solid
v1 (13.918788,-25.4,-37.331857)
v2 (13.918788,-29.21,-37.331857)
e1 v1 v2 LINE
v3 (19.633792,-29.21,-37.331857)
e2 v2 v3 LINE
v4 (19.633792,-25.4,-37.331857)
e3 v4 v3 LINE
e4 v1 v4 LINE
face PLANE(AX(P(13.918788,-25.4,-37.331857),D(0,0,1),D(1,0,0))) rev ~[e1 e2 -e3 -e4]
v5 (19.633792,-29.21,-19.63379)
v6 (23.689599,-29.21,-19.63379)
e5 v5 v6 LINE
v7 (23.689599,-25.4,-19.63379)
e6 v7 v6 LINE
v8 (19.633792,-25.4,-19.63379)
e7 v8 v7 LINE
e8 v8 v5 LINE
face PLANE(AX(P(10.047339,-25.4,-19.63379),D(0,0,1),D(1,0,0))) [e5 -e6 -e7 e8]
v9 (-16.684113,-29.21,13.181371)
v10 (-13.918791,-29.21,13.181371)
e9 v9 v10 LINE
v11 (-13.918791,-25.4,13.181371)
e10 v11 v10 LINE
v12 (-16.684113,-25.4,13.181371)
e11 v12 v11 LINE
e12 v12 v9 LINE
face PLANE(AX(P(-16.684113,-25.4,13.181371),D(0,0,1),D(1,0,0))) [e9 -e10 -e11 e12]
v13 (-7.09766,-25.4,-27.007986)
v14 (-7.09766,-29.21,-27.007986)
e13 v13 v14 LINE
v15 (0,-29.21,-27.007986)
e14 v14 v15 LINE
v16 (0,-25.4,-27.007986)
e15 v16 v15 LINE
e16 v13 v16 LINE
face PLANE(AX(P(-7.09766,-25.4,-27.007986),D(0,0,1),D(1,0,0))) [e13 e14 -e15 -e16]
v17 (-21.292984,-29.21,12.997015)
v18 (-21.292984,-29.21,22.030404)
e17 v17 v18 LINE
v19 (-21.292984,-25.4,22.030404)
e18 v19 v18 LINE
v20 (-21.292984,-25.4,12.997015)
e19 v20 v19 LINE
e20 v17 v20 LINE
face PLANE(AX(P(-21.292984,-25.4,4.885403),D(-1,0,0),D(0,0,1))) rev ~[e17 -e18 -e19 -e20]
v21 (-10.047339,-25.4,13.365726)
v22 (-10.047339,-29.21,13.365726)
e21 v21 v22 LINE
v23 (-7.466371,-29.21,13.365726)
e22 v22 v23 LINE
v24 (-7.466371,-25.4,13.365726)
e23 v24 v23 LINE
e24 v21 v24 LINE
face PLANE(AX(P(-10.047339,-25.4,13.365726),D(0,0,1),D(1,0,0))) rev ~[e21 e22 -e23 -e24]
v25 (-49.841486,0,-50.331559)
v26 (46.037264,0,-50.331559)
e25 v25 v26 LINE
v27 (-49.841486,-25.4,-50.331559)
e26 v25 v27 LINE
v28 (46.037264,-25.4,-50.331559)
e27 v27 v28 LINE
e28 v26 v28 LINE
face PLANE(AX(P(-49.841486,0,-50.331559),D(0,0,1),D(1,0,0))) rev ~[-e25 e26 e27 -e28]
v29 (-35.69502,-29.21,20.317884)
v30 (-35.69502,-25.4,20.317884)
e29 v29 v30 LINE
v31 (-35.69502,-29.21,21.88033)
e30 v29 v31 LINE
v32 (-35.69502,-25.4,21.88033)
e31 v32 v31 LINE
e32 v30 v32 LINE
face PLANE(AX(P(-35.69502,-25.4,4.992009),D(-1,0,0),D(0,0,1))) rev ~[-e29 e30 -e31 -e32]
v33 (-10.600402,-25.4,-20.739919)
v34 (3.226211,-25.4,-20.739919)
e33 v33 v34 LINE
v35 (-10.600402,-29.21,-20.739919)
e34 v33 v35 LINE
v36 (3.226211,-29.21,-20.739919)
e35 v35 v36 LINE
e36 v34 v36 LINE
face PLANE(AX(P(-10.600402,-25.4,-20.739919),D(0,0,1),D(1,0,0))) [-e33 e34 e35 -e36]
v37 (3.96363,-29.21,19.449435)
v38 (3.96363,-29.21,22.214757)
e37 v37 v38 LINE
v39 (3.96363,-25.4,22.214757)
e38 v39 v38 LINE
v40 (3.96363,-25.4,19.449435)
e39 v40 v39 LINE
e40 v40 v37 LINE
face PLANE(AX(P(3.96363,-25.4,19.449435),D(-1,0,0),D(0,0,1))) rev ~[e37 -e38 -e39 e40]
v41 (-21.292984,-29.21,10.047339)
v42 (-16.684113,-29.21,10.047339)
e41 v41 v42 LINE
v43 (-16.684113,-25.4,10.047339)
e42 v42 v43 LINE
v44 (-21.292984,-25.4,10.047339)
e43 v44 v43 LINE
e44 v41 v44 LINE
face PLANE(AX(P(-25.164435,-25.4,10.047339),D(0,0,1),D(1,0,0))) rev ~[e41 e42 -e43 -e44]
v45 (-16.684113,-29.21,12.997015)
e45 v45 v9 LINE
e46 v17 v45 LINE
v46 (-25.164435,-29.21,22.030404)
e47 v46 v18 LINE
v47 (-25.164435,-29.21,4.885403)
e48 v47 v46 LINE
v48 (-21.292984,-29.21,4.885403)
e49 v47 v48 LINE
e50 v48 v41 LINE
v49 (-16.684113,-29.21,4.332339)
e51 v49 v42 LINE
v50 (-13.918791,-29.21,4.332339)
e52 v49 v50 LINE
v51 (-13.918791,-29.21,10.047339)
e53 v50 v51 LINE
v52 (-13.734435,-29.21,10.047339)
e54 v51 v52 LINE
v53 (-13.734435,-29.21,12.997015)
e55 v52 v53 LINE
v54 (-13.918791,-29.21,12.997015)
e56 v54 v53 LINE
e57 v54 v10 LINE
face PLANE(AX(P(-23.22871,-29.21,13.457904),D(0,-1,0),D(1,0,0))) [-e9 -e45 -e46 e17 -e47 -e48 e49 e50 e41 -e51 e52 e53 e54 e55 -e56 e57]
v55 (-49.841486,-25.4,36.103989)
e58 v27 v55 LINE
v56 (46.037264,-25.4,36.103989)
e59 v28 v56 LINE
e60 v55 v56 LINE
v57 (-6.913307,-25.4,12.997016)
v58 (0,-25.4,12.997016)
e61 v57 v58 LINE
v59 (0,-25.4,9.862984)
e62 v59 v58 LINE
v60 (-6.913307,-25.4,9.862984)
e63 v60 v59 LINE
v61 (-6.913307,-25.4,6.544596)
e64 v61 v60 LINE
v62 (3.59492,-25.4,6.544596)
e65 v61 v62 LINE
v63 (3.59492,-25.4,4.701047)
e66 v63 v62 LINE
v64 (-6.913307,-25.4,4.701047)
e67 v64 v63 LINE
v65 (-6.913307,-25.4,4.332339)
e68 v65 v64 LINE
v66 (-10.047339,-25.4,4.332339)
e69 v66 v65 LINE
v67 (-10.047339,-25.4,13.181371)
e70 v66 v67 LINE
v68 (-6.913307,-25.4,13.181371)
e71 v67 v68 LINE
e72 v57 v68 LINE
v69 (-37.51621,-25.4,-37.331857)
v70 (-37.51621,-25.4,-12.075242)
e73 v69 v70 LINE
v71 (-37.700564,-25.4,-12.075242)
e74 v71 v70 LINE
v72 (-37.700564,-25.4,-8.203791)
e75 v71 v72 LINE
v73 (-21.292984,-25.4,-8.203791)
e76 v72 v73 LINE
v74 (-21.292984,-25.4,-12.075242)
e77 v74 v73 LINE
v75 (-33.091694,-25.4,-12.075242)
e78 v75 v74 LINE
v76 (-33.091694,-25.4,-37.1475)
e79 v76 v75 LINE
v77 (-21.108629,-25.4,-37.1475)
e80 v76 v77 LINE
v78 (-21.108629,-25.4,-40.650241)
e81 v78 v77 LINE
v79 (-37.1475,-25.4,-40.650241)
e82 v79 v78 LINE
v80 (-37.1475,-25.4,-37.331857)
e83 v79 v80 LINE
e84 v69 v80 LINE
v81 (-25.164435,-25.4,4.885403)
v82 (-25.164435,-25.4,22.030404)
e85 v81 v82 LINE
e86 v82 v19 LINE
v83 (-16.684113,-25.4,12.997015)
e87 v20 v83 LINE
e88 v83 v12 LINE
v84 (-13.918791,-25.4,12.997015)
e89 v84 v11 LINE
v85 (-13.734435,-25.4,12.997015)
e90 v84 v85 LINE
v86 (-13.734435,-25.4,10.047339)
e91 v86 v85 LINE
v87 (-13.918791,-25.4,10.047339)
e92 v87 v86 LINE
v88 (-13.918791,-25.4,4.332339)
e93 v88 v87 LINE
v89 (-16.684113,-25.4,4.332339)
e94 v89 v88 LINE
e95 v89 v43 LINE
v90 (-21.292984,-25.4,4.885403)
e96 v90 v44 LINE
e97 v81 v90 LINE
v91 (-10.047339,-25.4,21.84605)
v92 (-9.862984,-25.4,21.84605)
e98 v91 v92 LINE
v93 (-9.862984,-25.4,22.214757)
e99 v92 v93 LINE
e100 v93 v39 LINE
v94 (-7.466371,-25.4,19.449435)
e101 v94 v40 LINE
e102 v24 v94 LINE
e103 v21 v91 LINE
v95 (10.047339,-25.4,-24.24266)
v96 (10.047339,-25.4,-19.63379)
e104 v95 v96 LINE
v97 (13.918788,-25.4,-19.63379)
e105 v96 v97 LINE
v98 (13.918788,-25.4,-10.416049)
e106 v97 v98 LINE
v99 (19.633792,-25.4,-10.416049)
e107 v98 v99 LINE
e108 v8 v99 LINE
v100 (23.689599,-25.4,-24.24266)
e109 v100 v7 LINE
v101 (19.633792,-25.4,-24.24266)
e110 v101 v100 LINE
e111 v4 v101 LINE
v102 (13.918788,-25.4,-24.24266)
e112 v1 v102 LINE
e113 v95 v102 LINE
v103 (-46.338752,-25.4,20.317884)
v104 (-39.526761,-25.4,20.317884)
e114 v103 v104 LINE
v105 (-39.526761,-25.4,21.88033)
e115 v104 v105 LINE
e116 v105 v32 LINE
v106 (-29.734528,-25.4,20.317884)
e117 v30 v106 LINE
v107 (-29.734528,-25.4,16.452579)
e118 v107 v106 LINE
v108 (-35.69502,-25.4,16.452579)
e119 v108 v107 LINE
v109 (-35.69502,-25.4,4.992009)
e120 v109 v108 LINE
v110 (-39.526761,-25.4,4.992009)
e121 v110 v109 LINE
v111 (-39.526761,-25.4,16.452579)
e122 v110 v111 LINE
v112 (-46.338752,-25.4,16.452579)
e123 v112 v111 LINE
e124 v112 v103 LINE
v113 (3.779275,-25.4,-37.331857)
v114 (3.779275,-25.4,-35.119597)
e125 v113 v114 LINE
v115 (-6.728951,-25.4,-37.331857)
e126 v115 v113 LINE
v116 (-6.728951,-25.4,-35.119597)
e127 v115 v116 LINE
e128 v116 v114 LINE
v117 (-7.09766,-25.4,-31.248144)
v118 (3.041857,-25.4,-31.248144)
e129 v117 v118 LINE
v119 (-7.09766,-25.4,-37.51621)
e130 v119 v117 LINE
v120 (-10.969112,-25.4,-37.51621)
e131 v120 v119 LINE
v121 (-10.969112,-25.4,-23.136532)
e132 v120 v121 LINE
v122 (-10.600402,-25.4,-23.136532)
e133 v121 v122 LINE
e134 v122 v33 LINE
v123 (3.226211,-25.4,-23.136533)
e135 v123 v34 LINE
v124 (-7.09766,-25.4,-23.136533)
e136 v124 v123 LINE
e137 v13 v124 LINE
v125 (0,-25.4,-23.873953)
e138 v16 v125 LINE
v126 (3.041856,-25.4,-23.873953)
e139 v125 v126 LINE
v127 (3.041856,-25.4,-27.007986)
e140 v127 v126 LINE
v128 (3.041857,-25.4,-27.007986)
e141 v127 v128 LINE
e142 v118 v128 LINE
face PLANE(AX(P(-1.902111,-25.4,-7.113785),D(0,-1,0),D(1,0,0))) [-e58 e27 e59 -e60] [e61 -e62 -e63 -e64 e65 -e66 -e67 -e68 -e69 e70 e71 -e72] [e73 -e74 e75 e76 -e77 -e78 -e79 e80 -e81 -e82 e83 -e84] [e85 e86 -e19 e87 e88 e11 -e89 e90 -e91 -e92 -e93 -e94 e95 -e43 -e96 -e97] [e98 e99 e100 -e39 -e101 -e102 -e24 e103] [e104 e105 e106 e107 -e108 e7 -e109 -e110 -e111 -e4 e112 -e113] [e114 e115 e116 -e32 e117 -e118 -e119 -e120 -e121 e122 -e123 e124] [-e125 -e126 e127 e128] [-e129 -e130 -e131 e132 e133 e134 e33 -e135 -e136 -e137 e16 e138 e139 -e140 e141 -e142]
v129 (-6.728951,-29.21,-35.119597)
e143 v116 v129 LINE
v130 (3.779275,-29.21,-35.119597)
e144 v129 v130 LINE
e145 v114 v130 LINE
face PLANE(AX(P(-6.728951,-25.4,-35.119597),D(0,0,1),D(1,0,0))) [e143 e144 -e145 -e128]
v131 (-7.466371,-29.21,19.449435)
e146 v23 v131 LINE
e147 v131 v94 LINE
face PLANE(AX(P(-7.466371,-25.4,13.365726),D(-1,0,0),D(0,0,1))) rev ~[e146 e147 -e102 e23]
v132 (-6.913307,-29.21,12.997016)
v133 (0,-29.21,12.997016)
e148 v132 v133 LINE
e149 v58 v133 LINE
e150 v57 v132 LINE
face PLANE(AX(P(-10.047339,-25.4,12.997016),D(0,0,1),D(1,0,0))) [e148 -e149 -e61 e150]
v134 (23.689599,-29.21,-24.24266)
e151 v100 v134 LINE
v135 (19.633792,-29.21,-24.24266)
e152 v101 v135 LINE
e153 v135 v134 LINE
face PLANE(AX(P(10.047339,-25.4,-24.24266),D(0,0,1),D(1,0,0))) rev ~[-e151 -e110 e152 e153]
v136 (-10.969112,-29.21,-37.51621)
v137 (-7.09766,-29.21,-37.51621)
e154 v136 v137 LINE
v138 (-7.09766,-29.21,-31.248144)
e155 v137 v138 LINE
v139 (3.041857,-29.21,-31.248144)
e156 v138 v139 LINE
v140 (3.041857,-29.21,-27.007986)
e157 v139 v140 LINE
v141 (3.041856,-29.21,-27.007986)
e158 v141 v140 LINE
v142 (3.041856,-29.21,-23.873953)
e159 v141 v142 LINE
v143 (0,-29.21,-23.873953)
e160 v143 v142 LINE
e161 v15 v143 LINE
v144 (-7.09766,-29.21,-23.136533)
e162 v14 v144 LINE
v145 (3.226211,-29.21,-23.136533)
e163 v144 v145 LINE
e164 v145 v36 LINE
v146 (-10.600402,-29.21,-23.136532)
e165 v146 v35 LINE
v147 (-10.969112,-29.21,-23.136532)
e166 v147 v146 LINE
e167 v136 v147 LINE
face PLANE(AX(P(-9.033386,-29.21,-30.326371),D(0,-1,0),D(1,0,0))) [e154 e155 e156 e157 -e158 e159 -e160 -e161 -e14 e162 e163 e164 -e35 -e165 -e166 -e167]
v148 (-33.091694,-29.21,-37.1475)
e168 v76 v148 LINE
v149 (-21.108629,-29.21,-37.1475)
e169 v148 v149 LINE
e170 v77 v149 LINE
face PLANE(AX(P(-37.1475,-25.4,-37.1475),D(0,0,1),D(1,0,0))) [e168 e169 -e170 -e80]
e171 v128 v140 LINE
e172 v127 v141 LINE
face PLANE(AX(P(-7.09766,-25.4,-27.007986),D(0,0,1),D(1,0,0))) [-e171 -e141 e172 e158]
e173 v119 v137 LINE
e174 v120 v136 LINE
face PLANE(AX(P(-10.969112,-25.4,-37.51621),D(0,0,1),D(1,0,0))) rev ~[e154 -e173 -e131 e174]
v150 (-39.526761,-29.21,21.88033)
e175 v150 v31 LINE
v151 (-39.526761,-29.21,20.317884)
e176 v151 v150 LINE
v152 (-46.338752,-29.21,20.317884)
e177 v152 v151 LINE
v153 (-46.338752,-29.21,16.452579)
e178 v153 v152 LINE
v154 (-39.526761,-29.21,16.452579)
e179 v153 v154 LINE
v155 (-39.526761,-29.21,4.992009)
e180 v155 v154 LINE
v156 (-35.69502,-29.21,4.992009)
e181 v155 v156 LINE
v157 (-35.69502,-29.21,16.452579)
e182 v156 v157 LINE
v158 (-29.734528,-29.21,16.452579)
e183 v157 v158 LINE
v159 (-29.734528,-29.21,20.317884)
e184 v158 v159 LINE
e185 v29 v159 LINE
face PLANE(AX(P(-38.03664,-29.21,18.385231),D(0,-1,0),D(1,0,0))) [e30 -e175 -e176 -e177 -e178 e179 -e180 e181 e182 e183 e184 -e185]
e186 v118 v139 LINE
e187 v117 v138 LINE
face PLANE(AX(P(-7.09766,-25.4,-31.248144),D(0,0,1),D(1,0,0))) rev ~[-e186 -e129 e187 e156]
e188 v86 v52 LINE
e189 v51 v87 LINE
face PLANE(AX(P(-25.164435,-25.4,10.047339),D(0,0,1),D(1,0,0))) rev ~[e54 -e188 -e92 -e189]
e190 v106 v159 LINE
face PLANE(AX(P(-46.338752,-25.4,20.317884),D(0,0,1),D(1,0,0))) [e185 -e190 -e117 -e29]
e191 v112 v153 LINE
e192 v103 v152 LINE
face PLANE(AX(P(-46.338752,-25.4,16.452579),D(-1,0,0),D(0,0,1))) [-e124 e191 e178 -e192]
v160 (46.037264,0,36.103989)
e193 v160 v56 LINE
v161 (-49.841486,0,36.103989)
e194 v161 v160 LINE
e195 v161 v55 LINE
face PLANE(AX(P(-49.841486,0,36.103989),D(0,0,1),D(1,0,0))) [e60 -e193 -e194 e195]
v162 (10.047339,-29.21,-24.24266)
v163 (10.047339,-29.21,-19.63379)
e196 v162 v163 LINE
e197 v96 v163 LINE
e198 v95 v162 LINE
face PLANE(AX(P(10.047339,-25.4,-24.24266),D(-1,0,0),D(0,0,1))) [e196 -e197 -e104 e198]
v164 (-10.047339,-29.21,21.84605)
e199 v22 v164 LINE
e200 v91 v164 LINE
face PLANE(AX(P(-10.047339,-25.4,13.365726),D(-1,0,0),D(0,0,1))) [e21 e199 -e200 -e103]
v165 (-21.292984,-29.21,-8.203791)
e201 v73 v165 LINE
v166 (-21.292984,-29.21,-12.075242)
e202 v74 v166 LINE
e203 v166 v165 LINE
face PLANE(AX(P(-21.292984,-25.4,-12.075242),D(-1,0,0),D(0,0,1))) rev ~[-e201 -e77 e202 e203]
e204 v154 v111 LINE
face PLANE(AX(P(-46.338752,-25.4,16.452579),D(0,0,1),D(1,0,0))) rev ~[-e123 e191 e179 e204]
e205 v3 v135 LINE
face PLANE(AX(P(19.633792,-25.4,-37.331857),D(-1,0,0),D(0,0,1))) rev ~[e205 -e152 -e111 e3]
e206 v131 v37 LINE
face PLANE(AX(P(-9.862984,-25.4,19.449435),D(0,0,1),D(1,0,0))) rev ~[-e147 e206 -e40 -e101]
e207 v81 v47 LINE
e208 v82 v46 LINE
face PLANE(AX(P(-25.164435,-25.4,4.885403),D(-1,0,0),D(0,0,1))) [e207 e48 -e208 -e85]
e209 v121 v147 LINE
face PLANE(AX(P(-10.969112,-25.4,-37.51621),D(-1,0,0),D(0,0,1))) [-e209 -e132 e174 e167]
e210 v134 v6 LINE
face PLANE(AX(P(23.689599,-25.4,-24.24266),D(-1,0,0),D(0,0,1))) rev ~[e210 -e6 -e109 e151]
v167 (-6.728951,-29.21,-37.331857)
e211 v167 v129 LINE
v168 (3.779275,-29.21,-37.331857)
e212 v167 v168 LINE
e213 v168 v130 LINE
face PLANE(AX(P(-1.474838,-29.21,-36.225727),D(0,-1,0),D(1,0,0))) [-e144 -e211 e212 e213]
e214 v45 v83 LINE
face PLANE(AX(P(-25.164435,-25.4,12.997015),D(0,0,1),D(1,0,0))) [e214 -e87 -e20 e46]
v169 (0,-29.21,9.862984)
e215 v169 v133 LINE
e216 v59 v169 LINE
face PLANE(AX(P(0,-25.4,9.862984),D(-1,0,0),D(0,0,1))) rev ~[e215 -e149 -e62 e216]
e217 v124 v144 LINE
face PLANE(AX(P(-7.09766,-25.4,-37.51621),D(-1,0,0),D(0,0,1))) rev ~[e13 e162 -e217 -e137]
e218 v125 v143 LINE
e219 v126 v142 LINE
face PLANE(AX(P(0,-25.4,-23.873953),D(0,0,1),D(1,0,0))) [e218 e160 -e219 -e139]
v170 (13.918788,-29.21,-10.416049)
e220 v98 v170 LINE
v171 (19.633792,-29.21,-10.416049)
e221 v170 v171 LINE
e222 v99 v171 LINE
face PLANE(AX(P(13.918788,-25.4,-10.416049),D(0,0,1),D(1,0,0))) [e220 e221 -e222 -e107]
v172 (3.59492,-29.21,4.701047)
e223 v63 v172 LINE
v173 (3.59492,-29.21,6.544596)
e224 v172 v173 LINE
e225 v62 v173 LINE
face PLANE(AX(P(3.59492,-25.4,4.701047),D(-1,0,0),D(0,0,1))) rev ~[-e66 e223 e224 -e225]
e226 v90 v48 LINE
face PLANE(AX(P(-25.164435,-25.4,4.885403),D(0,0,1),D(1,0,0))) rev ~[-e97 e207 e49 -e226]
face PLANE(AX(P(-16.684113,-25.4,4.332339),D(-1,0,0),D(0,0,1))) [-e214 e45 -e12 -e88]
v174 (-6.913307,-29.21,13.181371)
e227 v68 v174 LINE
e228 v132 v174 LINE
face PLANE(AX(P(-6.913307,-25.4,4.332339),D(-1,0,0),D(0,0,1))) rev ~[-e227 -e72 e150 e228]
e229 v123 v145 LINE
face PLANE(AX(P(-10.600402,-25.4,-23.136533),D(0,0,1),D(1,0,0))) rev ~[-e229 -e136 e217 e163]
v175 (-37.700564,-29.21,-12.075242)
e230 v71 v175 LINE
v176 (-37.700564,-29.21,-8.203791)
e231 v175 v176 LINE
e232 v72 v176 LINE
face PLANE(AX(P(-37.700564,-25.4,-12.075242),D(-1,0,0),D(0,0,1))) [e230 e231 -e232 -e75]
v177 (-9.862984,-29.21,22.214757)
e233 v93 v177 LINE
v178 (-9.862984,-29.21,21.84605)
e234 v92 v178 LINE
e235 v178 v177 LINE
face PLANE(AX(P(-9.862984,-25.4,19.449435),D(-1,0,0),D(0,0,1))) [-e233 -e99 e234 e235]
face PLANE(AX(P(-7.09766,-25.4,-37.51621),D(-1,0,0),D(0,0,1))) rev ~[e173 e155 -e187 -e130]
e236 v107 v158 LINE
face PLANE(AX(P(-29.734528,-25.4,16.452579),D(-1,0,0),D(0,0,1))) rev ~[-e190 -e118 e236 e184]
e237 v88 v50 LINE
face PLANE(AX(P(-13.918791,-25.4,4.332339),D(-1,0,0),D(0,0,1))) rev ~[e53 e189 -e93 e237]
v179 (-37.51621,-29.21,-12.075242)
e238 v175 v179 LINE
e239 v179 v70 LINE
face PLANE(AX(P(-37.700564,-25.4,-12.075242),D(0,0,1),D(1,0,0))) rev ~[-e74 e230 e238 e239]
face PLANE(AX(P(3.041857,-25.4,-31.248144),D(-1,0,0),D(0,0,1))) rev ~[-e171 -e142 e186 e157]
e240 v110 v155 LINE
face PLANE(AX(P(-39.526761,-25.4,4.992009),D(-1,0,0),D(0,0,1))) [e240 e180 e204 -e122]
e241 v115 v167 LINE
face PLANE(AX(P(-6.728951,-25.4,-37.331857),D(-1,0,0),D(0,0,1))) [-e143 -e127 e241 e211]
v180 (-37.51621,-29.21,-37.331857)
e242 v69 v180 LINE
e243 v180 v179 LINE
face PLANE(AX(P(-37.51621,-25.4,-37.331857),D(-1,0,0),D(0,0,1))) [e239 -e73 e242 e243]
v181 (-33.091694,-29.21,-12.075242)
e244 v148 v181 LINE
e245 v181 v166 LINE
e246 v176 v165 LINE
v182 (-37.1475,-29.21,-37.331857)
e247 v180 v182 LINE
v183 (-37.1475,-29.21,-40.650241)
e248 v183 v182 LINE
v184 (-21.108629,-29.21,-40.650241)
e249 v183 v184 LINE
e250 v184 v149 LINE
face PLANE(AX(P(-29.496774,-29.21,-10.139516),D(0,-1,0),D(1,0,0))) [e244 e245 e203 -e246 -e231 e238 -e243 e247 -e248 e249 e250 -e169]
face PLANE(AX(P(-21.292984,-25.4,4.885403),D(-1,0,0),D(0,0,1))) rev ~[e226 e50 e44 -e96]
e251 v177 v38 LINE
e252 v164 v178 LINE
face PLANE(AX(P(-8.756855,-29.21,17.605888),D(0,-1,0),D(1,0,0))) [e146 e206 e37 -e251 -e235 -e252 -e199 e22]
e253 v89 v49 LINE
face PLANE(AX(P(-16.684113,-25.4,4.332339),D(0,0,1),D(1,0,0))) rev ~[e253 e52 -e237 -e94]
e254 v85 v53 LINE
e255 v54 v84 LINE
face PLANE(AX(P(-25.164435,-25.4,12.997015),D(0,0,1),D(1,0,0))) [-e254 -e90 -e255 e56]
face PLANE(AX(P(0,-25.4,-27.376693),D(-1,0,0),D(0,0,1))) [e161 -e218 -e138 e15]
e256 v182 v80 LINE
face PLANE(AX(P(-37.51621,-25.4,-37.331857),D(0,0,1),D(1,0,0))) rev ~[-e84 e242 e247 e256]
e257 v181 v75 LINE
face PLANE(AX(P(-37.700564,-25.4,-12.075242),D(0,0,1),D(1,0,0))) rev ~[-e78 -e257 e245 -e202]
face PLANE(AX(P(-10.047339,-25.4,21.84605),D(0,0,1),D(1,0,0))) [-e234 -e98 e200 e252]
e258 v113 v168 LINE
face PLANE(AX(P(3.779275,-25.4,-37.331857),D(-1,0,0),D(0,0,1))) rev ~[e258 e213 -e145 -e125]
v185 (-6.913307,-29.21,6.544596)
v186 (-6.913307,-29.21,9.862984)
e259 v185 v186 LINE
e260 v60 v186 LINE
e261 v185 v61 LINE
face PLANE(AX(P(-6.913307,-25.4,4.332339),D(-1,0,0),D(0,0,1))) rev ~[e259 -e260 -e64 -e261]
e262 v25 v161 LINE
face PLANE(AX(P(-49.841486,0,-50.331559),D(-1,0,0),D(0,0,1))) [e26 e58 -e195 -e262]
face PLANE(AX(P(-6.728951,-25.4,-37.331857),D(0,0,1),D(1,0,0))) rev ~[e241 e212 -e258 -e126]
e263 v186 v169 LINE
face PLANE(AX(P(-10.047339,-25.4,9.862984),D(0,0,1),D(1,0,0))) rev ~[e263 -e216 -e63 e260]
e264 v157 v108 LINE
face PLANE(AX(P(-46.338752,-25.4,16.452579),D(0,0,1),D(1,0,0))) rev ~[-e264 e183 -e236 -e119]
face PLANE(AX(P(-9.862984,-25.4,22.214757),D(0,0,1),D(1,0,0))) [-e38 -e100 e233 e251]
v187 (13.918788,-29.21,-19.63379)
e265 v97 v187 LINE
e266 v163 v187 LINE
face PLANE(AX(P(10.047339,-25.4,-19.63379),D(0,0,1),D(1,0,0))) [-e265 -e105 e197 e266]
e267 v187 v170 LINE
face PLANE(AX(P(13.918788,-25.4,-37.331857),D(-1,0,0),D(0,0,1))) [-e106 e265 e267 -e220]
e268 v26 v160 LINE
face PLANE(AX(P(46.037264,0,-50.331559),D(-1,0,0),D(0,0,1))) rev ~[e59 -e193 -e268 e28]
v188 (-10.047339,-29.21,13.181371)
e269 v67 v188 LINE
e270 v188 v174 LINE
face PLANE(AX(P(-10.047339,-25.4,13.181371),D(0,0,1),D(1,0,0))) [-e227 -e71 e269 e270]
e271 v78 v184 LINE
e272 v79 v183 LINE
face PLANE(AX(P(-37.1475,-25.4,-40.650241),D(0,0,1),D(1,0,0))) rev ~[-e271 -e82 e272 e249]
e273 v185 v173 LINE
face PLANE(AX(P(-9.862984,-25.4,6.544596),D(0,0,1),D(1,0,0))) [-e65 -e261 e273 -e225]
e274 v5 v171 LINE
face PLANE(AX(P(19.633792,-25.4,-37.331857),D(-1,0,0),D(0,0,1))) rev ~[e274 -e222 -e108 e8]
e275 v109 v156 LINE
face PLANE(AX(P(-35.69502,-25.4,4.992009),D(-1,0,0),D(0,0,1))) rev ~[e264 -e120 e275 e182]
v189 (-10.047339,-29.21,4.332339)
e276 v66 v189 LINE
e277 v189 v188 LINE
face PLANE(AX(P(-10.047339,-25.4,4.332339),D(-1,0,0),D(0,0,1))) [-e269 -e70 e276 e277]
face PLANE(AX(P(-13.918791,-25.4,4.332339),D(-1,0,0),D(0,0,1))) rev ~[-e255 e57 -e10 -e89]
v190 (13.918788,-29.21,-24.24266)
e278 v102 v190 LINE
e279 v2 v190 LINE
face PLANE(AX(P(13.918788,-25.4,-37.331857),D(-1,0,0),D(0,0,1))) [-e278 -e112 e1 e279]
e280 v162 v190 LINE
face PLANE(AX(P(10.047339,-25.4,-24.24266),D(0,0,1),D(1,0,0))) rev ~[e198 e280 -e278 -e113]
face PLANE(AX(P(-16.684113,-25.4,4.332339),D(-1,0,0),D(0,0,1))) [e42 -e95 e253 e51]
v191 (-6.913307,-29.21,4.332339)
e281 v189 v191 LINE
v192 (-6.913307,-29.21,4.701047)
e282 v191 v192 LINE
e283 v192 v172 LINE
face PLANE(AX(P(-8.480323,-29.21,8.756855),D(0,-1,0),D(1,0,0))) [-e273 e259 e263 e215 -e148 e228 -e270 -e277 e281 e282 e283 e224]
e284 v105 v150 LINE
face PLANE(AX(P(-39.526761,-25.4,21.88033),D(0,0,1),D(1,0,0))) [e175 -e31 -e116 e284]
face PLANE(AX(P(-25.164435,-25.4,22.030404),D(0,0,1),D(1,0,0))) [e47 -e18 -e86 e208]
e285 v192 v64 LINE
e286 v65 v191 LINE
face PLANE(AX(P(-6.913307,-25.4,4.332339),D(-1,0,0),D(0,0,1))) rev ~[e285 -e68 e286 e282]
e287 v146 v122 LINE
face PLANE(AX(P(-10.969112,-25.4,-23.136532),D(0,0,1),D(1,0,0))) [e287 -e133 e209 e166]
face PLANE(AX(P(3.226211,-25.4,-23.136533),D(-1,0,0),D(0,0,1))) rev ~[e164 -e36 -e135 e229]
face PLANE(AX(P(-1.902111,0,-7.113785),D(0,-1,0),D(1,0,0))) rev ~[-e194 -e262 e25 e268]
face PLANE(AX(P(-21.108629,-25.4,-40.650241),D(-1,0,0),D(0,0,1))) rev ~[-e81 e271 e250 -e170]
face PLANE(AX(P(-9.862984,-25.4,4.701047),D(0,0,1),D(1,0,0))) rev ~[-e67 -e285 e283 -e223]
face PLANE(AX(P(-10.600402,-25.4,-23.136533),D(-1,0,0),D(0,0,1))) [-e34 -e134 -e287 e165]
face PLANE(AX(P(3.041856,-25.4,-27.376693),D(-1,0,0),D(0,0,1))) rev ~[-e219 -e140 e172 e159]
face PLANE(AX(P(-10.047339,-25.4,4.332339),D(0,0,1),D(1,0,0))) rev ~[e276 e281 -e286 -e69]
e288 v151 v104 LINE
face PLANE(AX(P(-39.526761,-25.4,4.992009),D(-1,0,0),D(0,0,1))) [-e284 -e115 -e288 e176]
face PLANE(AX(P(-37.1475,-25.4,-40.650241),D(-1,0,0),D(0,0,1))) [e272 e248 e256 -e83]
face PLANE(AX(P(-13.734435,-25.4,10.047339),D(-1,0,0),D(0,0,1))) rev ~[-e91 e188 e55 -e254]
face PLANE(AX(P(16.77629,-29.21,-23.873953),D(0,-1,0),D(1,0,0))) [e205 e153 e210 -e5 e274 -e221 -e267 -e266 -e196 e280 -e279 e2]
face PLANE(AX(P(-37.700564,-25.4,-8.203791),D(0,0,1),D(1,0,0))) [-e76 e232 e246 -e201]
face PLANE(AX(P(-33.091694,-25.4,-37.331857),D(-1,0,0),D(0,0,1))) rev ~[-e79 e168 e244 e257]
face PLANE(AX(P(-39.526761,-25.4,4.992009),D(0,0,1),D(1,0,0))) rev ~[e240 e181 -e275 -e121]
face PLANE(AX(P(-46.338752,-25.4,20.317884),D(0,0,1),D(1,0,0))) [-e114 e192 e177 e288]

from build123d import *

# Parameters (mm, degrees)
F0_W      = 95.87875
F0_H      = 86.435549
F1_DEPTH  = 25.4
F2_W      = 3.831741
F2_H      = 16.888321
F22_DEPTH = 3.81
F4_W      = 3.871451
F4_H      = 17.145001
F23_DEPTH = 3.81
F6_W      = 2.765321
F6_H      = 8.849032
F24_DEPTH = 3.81
F3_W      = 16.604224
F3_H      = 3.865305
F25_DEPTH = 3.81
F5_W      = 11.43
F5_H      = 2.949677
F26_DEPTH = 3.81
F7_W      = 10.047339
F7_H      = 3.134032
F27_DEPTH = 3.81
F21_W     = 13.642261
F21_H     = 4.60887
F28_DEPTH = 3.81
F20_W     = 5.715003
F20_H     = 26.915808
F29_DEPTH = 3.81
F19_W     = 10.508227
F19_H     = 2.21226
F30_DEPTH = 3.81
F18_W     = 10.139517
F18_H     = 4.240159
F31_DEPTH = 3.81
F17_W     = 3.041856
F17_H     = 3.50274
F32_DEPTH = 3.81
F16_W     = 13.826613
F16_H     = 2.396613
F33_DEPTH = 3.81
F15_W     = 3.871451
F15_H     = 14.379678
F34_DEPTH = 3.81
F14_W     = 16.038871
F14_H     = 3.502741
F35_DEPTH = 3.81
F8_W      = 3.134032
F8_H      = 8.849032
F36_DEPTH = 3.81
F9_W      = 13.457904
F9_H      = 1.843549
F37_DEPTH = 3.81
F10_W     = 2.580968
F10_H     = 8.480324
F38_DEPTH = 3.81
F11_W     = 13.826613
F11_H     = 2.765322
F39_DEPTH = 3.81
F12_W     = 4.424516
F12_H     = 29.128066
F40_DEPTH = 3.81
F13_W     = 16.40758
F13_H     = 3.871451
F41_DEPTH = 3.81


with BuildPart() as f1:
    # F0 (on Front) → F1 (new body)
    with BuildSketch(Plane.XZ):
        with Locations((-1.902111, -7.113785)):
            Rectangle(F0_W, F0_H)
    extrude(amount=F1_DEPTH)

    # F2 (on face) → F22 (join)
    with BuildSketch(Plane.XZ.offset(25.4)):
        with Locations((-37.61089, 13.43617)):
            Rectangle(F2_W, F2_H)
    extrude(amount=F22_DEPTH)

    # F4 (on face) → F23 (join)
    with BuildSketch(Plane.XZ.offset(25.4)):
        with Locations((-23.22871, 13.457904)):
            Rectangle(F4_W, F4_H)
    extrude(amount=F23_DEPTH)

    # F6 (on face) → F24 (join)
    with BuildSketch(Plane.XZ.offset(25.4)):
        with Locations((-15.301452, 8.756855)):
            Rectangle(F6_W, F6_H)
    extrude(amount=F24_DEPTH)

    # F3 (on face) → F25 (join)
    with BuildSketch(Plane.XZ.offset(25.4)):
        with Locations((-38.03664, 18.385231)):
            Rectangle(F3_W, F3_H)
    extrude(amount=F25_DEPTH)

    # F5 (on face) → F26 (join)
    with BuildSketch(Plane.XZ.offset(25.4)):
        with Locations((-19.449435, 11.522177)):
            Rectangle(F5_W, F5_H)
    extrude(amount=F26_DEPTH)

    # F7 (on face) → F27 (join)
    with BuildSketch(Plane.XZ.offset(25.4)):
        with Locations((-5.023669, 11.43)):
            Rectangle(F7_W, F7_H)
    extrude(amount=F27_DEPTH)

    # F21 (on face) → F28 (join)
    with BuildSketch(Plane.XZ.offset(25.4)):
        with Locations((16.868469, -21.938225)):
            Rectangle(F21_W, F21_H)
    extrude(amount=F28_DEPTH)

    # F20 (on face) → F29 (join)
    with BuildSketch(Plane.XZ.offset(25.4)):
        with Locations((16.77629, -23.873953)):
            Rectangle(F20_W, F20_H)
    extrude(amount=F29_DEPTH)

    # F19 (on face) → F30 (join)
    with BuildSketch(Plane.XZ.offset(25.4)):
        with Locations((-1.474838, -36.225727)):
            Rectangle(F19_W, F19_H)
    extrude(amount=F30_DEPTH)

    # F18 (on face) → F31 (join)
    with BuildSketch(Plane.XZ.offset(25.4)):
        with Locations((-2.027902, -29.128065)):
            Rectangle(F18_W, F18_H)
    extrude(amount=F31_DEPTH)

    # F17 (on face) → F32 (join)
    with BuildSketch(Plane.XZ.offset(25.4)):
        with Locations((1.520928, -25.625323)):
            Rectangle(F17_W, F17_H)
    extrude(amount=F32_DEPTH)

    # F16 (on face) → F33 (join)
    with BuildSketch(Plane.XZ.offset(25.4)):
        with Locations((-3.687095, -21.938226)):
            Rectangle(F16_W, F16_H)
    extrude(amount=F33_DEPTH)

    # F15 (on face) → F34 (join)
    with BuildSketch(Plane.XZ.offset(25.4)):
        with Locations((-9.033386, -30.326371)):
            Rectangle(F15_W, F15_H)
    extrude(amount=F34_DEPTH)

    # F14 (on face) → F35 (join)
    with BuildSketch(Plane.XZ.offset(25.4)):
        with Locations((-29.128065, -38.898871)):
            Rectangle(F14_W, F14_H)
    extrude(amount=F35_DEPTH)

    # F8 (on face) → F36 (join)
    with BuildSketch(Plane.XZ.offset(25.4)):
        with Locations((-8.480323, 8.756855)):
            Rectangle(F8_W, F8_H)
    extrude(amount=F36_DEPTH)

    # F9 (on face) → F37 (join)
    with BuildSketch(Plane.XZ.offset(25.4)):
        with Locations((-3.134032, 5.622822)):
            Rectangle(F9_W, F9_H)
    extrude(amount=F37_DEPTH)

    # F10 (on face) → F38 (join)
    with BuildSketch(Plane.XZ.offset(25.4)):
        with Locations((-8.756855, 17.605888)):
            Rectangle(F10_W, F10_H)
    extrude(amount=F38_DEPTH)

    # F11 (on face) → F39 (join)
    with BuildSketch(Plane.XZ.offset(25.4)):
        with Locations((-2.949677, 20.832096)):
            Rectangle(F11_W, F11_H)
    extrude(amount=F39_DEPTH)

    # F12 (on face) → F40 (join)
    with BuildSketch(Plane.XZ.offset(25.4)):
        with Locations((-35.303952, -22.767824)):
            Rectangle(F12_W, F12_H)
    extrude(amount=F40_DEPTH)

    # F13 (on face) → F41 (join)
    with BuildSketch(Plane.XZ.offset(25.4)):
        with Locations((-29.496774, -10.139516)):
            Rectangle(F13_W, F13_H)
    extrude(amount=F41_DEPTH)


solid = f1.part
